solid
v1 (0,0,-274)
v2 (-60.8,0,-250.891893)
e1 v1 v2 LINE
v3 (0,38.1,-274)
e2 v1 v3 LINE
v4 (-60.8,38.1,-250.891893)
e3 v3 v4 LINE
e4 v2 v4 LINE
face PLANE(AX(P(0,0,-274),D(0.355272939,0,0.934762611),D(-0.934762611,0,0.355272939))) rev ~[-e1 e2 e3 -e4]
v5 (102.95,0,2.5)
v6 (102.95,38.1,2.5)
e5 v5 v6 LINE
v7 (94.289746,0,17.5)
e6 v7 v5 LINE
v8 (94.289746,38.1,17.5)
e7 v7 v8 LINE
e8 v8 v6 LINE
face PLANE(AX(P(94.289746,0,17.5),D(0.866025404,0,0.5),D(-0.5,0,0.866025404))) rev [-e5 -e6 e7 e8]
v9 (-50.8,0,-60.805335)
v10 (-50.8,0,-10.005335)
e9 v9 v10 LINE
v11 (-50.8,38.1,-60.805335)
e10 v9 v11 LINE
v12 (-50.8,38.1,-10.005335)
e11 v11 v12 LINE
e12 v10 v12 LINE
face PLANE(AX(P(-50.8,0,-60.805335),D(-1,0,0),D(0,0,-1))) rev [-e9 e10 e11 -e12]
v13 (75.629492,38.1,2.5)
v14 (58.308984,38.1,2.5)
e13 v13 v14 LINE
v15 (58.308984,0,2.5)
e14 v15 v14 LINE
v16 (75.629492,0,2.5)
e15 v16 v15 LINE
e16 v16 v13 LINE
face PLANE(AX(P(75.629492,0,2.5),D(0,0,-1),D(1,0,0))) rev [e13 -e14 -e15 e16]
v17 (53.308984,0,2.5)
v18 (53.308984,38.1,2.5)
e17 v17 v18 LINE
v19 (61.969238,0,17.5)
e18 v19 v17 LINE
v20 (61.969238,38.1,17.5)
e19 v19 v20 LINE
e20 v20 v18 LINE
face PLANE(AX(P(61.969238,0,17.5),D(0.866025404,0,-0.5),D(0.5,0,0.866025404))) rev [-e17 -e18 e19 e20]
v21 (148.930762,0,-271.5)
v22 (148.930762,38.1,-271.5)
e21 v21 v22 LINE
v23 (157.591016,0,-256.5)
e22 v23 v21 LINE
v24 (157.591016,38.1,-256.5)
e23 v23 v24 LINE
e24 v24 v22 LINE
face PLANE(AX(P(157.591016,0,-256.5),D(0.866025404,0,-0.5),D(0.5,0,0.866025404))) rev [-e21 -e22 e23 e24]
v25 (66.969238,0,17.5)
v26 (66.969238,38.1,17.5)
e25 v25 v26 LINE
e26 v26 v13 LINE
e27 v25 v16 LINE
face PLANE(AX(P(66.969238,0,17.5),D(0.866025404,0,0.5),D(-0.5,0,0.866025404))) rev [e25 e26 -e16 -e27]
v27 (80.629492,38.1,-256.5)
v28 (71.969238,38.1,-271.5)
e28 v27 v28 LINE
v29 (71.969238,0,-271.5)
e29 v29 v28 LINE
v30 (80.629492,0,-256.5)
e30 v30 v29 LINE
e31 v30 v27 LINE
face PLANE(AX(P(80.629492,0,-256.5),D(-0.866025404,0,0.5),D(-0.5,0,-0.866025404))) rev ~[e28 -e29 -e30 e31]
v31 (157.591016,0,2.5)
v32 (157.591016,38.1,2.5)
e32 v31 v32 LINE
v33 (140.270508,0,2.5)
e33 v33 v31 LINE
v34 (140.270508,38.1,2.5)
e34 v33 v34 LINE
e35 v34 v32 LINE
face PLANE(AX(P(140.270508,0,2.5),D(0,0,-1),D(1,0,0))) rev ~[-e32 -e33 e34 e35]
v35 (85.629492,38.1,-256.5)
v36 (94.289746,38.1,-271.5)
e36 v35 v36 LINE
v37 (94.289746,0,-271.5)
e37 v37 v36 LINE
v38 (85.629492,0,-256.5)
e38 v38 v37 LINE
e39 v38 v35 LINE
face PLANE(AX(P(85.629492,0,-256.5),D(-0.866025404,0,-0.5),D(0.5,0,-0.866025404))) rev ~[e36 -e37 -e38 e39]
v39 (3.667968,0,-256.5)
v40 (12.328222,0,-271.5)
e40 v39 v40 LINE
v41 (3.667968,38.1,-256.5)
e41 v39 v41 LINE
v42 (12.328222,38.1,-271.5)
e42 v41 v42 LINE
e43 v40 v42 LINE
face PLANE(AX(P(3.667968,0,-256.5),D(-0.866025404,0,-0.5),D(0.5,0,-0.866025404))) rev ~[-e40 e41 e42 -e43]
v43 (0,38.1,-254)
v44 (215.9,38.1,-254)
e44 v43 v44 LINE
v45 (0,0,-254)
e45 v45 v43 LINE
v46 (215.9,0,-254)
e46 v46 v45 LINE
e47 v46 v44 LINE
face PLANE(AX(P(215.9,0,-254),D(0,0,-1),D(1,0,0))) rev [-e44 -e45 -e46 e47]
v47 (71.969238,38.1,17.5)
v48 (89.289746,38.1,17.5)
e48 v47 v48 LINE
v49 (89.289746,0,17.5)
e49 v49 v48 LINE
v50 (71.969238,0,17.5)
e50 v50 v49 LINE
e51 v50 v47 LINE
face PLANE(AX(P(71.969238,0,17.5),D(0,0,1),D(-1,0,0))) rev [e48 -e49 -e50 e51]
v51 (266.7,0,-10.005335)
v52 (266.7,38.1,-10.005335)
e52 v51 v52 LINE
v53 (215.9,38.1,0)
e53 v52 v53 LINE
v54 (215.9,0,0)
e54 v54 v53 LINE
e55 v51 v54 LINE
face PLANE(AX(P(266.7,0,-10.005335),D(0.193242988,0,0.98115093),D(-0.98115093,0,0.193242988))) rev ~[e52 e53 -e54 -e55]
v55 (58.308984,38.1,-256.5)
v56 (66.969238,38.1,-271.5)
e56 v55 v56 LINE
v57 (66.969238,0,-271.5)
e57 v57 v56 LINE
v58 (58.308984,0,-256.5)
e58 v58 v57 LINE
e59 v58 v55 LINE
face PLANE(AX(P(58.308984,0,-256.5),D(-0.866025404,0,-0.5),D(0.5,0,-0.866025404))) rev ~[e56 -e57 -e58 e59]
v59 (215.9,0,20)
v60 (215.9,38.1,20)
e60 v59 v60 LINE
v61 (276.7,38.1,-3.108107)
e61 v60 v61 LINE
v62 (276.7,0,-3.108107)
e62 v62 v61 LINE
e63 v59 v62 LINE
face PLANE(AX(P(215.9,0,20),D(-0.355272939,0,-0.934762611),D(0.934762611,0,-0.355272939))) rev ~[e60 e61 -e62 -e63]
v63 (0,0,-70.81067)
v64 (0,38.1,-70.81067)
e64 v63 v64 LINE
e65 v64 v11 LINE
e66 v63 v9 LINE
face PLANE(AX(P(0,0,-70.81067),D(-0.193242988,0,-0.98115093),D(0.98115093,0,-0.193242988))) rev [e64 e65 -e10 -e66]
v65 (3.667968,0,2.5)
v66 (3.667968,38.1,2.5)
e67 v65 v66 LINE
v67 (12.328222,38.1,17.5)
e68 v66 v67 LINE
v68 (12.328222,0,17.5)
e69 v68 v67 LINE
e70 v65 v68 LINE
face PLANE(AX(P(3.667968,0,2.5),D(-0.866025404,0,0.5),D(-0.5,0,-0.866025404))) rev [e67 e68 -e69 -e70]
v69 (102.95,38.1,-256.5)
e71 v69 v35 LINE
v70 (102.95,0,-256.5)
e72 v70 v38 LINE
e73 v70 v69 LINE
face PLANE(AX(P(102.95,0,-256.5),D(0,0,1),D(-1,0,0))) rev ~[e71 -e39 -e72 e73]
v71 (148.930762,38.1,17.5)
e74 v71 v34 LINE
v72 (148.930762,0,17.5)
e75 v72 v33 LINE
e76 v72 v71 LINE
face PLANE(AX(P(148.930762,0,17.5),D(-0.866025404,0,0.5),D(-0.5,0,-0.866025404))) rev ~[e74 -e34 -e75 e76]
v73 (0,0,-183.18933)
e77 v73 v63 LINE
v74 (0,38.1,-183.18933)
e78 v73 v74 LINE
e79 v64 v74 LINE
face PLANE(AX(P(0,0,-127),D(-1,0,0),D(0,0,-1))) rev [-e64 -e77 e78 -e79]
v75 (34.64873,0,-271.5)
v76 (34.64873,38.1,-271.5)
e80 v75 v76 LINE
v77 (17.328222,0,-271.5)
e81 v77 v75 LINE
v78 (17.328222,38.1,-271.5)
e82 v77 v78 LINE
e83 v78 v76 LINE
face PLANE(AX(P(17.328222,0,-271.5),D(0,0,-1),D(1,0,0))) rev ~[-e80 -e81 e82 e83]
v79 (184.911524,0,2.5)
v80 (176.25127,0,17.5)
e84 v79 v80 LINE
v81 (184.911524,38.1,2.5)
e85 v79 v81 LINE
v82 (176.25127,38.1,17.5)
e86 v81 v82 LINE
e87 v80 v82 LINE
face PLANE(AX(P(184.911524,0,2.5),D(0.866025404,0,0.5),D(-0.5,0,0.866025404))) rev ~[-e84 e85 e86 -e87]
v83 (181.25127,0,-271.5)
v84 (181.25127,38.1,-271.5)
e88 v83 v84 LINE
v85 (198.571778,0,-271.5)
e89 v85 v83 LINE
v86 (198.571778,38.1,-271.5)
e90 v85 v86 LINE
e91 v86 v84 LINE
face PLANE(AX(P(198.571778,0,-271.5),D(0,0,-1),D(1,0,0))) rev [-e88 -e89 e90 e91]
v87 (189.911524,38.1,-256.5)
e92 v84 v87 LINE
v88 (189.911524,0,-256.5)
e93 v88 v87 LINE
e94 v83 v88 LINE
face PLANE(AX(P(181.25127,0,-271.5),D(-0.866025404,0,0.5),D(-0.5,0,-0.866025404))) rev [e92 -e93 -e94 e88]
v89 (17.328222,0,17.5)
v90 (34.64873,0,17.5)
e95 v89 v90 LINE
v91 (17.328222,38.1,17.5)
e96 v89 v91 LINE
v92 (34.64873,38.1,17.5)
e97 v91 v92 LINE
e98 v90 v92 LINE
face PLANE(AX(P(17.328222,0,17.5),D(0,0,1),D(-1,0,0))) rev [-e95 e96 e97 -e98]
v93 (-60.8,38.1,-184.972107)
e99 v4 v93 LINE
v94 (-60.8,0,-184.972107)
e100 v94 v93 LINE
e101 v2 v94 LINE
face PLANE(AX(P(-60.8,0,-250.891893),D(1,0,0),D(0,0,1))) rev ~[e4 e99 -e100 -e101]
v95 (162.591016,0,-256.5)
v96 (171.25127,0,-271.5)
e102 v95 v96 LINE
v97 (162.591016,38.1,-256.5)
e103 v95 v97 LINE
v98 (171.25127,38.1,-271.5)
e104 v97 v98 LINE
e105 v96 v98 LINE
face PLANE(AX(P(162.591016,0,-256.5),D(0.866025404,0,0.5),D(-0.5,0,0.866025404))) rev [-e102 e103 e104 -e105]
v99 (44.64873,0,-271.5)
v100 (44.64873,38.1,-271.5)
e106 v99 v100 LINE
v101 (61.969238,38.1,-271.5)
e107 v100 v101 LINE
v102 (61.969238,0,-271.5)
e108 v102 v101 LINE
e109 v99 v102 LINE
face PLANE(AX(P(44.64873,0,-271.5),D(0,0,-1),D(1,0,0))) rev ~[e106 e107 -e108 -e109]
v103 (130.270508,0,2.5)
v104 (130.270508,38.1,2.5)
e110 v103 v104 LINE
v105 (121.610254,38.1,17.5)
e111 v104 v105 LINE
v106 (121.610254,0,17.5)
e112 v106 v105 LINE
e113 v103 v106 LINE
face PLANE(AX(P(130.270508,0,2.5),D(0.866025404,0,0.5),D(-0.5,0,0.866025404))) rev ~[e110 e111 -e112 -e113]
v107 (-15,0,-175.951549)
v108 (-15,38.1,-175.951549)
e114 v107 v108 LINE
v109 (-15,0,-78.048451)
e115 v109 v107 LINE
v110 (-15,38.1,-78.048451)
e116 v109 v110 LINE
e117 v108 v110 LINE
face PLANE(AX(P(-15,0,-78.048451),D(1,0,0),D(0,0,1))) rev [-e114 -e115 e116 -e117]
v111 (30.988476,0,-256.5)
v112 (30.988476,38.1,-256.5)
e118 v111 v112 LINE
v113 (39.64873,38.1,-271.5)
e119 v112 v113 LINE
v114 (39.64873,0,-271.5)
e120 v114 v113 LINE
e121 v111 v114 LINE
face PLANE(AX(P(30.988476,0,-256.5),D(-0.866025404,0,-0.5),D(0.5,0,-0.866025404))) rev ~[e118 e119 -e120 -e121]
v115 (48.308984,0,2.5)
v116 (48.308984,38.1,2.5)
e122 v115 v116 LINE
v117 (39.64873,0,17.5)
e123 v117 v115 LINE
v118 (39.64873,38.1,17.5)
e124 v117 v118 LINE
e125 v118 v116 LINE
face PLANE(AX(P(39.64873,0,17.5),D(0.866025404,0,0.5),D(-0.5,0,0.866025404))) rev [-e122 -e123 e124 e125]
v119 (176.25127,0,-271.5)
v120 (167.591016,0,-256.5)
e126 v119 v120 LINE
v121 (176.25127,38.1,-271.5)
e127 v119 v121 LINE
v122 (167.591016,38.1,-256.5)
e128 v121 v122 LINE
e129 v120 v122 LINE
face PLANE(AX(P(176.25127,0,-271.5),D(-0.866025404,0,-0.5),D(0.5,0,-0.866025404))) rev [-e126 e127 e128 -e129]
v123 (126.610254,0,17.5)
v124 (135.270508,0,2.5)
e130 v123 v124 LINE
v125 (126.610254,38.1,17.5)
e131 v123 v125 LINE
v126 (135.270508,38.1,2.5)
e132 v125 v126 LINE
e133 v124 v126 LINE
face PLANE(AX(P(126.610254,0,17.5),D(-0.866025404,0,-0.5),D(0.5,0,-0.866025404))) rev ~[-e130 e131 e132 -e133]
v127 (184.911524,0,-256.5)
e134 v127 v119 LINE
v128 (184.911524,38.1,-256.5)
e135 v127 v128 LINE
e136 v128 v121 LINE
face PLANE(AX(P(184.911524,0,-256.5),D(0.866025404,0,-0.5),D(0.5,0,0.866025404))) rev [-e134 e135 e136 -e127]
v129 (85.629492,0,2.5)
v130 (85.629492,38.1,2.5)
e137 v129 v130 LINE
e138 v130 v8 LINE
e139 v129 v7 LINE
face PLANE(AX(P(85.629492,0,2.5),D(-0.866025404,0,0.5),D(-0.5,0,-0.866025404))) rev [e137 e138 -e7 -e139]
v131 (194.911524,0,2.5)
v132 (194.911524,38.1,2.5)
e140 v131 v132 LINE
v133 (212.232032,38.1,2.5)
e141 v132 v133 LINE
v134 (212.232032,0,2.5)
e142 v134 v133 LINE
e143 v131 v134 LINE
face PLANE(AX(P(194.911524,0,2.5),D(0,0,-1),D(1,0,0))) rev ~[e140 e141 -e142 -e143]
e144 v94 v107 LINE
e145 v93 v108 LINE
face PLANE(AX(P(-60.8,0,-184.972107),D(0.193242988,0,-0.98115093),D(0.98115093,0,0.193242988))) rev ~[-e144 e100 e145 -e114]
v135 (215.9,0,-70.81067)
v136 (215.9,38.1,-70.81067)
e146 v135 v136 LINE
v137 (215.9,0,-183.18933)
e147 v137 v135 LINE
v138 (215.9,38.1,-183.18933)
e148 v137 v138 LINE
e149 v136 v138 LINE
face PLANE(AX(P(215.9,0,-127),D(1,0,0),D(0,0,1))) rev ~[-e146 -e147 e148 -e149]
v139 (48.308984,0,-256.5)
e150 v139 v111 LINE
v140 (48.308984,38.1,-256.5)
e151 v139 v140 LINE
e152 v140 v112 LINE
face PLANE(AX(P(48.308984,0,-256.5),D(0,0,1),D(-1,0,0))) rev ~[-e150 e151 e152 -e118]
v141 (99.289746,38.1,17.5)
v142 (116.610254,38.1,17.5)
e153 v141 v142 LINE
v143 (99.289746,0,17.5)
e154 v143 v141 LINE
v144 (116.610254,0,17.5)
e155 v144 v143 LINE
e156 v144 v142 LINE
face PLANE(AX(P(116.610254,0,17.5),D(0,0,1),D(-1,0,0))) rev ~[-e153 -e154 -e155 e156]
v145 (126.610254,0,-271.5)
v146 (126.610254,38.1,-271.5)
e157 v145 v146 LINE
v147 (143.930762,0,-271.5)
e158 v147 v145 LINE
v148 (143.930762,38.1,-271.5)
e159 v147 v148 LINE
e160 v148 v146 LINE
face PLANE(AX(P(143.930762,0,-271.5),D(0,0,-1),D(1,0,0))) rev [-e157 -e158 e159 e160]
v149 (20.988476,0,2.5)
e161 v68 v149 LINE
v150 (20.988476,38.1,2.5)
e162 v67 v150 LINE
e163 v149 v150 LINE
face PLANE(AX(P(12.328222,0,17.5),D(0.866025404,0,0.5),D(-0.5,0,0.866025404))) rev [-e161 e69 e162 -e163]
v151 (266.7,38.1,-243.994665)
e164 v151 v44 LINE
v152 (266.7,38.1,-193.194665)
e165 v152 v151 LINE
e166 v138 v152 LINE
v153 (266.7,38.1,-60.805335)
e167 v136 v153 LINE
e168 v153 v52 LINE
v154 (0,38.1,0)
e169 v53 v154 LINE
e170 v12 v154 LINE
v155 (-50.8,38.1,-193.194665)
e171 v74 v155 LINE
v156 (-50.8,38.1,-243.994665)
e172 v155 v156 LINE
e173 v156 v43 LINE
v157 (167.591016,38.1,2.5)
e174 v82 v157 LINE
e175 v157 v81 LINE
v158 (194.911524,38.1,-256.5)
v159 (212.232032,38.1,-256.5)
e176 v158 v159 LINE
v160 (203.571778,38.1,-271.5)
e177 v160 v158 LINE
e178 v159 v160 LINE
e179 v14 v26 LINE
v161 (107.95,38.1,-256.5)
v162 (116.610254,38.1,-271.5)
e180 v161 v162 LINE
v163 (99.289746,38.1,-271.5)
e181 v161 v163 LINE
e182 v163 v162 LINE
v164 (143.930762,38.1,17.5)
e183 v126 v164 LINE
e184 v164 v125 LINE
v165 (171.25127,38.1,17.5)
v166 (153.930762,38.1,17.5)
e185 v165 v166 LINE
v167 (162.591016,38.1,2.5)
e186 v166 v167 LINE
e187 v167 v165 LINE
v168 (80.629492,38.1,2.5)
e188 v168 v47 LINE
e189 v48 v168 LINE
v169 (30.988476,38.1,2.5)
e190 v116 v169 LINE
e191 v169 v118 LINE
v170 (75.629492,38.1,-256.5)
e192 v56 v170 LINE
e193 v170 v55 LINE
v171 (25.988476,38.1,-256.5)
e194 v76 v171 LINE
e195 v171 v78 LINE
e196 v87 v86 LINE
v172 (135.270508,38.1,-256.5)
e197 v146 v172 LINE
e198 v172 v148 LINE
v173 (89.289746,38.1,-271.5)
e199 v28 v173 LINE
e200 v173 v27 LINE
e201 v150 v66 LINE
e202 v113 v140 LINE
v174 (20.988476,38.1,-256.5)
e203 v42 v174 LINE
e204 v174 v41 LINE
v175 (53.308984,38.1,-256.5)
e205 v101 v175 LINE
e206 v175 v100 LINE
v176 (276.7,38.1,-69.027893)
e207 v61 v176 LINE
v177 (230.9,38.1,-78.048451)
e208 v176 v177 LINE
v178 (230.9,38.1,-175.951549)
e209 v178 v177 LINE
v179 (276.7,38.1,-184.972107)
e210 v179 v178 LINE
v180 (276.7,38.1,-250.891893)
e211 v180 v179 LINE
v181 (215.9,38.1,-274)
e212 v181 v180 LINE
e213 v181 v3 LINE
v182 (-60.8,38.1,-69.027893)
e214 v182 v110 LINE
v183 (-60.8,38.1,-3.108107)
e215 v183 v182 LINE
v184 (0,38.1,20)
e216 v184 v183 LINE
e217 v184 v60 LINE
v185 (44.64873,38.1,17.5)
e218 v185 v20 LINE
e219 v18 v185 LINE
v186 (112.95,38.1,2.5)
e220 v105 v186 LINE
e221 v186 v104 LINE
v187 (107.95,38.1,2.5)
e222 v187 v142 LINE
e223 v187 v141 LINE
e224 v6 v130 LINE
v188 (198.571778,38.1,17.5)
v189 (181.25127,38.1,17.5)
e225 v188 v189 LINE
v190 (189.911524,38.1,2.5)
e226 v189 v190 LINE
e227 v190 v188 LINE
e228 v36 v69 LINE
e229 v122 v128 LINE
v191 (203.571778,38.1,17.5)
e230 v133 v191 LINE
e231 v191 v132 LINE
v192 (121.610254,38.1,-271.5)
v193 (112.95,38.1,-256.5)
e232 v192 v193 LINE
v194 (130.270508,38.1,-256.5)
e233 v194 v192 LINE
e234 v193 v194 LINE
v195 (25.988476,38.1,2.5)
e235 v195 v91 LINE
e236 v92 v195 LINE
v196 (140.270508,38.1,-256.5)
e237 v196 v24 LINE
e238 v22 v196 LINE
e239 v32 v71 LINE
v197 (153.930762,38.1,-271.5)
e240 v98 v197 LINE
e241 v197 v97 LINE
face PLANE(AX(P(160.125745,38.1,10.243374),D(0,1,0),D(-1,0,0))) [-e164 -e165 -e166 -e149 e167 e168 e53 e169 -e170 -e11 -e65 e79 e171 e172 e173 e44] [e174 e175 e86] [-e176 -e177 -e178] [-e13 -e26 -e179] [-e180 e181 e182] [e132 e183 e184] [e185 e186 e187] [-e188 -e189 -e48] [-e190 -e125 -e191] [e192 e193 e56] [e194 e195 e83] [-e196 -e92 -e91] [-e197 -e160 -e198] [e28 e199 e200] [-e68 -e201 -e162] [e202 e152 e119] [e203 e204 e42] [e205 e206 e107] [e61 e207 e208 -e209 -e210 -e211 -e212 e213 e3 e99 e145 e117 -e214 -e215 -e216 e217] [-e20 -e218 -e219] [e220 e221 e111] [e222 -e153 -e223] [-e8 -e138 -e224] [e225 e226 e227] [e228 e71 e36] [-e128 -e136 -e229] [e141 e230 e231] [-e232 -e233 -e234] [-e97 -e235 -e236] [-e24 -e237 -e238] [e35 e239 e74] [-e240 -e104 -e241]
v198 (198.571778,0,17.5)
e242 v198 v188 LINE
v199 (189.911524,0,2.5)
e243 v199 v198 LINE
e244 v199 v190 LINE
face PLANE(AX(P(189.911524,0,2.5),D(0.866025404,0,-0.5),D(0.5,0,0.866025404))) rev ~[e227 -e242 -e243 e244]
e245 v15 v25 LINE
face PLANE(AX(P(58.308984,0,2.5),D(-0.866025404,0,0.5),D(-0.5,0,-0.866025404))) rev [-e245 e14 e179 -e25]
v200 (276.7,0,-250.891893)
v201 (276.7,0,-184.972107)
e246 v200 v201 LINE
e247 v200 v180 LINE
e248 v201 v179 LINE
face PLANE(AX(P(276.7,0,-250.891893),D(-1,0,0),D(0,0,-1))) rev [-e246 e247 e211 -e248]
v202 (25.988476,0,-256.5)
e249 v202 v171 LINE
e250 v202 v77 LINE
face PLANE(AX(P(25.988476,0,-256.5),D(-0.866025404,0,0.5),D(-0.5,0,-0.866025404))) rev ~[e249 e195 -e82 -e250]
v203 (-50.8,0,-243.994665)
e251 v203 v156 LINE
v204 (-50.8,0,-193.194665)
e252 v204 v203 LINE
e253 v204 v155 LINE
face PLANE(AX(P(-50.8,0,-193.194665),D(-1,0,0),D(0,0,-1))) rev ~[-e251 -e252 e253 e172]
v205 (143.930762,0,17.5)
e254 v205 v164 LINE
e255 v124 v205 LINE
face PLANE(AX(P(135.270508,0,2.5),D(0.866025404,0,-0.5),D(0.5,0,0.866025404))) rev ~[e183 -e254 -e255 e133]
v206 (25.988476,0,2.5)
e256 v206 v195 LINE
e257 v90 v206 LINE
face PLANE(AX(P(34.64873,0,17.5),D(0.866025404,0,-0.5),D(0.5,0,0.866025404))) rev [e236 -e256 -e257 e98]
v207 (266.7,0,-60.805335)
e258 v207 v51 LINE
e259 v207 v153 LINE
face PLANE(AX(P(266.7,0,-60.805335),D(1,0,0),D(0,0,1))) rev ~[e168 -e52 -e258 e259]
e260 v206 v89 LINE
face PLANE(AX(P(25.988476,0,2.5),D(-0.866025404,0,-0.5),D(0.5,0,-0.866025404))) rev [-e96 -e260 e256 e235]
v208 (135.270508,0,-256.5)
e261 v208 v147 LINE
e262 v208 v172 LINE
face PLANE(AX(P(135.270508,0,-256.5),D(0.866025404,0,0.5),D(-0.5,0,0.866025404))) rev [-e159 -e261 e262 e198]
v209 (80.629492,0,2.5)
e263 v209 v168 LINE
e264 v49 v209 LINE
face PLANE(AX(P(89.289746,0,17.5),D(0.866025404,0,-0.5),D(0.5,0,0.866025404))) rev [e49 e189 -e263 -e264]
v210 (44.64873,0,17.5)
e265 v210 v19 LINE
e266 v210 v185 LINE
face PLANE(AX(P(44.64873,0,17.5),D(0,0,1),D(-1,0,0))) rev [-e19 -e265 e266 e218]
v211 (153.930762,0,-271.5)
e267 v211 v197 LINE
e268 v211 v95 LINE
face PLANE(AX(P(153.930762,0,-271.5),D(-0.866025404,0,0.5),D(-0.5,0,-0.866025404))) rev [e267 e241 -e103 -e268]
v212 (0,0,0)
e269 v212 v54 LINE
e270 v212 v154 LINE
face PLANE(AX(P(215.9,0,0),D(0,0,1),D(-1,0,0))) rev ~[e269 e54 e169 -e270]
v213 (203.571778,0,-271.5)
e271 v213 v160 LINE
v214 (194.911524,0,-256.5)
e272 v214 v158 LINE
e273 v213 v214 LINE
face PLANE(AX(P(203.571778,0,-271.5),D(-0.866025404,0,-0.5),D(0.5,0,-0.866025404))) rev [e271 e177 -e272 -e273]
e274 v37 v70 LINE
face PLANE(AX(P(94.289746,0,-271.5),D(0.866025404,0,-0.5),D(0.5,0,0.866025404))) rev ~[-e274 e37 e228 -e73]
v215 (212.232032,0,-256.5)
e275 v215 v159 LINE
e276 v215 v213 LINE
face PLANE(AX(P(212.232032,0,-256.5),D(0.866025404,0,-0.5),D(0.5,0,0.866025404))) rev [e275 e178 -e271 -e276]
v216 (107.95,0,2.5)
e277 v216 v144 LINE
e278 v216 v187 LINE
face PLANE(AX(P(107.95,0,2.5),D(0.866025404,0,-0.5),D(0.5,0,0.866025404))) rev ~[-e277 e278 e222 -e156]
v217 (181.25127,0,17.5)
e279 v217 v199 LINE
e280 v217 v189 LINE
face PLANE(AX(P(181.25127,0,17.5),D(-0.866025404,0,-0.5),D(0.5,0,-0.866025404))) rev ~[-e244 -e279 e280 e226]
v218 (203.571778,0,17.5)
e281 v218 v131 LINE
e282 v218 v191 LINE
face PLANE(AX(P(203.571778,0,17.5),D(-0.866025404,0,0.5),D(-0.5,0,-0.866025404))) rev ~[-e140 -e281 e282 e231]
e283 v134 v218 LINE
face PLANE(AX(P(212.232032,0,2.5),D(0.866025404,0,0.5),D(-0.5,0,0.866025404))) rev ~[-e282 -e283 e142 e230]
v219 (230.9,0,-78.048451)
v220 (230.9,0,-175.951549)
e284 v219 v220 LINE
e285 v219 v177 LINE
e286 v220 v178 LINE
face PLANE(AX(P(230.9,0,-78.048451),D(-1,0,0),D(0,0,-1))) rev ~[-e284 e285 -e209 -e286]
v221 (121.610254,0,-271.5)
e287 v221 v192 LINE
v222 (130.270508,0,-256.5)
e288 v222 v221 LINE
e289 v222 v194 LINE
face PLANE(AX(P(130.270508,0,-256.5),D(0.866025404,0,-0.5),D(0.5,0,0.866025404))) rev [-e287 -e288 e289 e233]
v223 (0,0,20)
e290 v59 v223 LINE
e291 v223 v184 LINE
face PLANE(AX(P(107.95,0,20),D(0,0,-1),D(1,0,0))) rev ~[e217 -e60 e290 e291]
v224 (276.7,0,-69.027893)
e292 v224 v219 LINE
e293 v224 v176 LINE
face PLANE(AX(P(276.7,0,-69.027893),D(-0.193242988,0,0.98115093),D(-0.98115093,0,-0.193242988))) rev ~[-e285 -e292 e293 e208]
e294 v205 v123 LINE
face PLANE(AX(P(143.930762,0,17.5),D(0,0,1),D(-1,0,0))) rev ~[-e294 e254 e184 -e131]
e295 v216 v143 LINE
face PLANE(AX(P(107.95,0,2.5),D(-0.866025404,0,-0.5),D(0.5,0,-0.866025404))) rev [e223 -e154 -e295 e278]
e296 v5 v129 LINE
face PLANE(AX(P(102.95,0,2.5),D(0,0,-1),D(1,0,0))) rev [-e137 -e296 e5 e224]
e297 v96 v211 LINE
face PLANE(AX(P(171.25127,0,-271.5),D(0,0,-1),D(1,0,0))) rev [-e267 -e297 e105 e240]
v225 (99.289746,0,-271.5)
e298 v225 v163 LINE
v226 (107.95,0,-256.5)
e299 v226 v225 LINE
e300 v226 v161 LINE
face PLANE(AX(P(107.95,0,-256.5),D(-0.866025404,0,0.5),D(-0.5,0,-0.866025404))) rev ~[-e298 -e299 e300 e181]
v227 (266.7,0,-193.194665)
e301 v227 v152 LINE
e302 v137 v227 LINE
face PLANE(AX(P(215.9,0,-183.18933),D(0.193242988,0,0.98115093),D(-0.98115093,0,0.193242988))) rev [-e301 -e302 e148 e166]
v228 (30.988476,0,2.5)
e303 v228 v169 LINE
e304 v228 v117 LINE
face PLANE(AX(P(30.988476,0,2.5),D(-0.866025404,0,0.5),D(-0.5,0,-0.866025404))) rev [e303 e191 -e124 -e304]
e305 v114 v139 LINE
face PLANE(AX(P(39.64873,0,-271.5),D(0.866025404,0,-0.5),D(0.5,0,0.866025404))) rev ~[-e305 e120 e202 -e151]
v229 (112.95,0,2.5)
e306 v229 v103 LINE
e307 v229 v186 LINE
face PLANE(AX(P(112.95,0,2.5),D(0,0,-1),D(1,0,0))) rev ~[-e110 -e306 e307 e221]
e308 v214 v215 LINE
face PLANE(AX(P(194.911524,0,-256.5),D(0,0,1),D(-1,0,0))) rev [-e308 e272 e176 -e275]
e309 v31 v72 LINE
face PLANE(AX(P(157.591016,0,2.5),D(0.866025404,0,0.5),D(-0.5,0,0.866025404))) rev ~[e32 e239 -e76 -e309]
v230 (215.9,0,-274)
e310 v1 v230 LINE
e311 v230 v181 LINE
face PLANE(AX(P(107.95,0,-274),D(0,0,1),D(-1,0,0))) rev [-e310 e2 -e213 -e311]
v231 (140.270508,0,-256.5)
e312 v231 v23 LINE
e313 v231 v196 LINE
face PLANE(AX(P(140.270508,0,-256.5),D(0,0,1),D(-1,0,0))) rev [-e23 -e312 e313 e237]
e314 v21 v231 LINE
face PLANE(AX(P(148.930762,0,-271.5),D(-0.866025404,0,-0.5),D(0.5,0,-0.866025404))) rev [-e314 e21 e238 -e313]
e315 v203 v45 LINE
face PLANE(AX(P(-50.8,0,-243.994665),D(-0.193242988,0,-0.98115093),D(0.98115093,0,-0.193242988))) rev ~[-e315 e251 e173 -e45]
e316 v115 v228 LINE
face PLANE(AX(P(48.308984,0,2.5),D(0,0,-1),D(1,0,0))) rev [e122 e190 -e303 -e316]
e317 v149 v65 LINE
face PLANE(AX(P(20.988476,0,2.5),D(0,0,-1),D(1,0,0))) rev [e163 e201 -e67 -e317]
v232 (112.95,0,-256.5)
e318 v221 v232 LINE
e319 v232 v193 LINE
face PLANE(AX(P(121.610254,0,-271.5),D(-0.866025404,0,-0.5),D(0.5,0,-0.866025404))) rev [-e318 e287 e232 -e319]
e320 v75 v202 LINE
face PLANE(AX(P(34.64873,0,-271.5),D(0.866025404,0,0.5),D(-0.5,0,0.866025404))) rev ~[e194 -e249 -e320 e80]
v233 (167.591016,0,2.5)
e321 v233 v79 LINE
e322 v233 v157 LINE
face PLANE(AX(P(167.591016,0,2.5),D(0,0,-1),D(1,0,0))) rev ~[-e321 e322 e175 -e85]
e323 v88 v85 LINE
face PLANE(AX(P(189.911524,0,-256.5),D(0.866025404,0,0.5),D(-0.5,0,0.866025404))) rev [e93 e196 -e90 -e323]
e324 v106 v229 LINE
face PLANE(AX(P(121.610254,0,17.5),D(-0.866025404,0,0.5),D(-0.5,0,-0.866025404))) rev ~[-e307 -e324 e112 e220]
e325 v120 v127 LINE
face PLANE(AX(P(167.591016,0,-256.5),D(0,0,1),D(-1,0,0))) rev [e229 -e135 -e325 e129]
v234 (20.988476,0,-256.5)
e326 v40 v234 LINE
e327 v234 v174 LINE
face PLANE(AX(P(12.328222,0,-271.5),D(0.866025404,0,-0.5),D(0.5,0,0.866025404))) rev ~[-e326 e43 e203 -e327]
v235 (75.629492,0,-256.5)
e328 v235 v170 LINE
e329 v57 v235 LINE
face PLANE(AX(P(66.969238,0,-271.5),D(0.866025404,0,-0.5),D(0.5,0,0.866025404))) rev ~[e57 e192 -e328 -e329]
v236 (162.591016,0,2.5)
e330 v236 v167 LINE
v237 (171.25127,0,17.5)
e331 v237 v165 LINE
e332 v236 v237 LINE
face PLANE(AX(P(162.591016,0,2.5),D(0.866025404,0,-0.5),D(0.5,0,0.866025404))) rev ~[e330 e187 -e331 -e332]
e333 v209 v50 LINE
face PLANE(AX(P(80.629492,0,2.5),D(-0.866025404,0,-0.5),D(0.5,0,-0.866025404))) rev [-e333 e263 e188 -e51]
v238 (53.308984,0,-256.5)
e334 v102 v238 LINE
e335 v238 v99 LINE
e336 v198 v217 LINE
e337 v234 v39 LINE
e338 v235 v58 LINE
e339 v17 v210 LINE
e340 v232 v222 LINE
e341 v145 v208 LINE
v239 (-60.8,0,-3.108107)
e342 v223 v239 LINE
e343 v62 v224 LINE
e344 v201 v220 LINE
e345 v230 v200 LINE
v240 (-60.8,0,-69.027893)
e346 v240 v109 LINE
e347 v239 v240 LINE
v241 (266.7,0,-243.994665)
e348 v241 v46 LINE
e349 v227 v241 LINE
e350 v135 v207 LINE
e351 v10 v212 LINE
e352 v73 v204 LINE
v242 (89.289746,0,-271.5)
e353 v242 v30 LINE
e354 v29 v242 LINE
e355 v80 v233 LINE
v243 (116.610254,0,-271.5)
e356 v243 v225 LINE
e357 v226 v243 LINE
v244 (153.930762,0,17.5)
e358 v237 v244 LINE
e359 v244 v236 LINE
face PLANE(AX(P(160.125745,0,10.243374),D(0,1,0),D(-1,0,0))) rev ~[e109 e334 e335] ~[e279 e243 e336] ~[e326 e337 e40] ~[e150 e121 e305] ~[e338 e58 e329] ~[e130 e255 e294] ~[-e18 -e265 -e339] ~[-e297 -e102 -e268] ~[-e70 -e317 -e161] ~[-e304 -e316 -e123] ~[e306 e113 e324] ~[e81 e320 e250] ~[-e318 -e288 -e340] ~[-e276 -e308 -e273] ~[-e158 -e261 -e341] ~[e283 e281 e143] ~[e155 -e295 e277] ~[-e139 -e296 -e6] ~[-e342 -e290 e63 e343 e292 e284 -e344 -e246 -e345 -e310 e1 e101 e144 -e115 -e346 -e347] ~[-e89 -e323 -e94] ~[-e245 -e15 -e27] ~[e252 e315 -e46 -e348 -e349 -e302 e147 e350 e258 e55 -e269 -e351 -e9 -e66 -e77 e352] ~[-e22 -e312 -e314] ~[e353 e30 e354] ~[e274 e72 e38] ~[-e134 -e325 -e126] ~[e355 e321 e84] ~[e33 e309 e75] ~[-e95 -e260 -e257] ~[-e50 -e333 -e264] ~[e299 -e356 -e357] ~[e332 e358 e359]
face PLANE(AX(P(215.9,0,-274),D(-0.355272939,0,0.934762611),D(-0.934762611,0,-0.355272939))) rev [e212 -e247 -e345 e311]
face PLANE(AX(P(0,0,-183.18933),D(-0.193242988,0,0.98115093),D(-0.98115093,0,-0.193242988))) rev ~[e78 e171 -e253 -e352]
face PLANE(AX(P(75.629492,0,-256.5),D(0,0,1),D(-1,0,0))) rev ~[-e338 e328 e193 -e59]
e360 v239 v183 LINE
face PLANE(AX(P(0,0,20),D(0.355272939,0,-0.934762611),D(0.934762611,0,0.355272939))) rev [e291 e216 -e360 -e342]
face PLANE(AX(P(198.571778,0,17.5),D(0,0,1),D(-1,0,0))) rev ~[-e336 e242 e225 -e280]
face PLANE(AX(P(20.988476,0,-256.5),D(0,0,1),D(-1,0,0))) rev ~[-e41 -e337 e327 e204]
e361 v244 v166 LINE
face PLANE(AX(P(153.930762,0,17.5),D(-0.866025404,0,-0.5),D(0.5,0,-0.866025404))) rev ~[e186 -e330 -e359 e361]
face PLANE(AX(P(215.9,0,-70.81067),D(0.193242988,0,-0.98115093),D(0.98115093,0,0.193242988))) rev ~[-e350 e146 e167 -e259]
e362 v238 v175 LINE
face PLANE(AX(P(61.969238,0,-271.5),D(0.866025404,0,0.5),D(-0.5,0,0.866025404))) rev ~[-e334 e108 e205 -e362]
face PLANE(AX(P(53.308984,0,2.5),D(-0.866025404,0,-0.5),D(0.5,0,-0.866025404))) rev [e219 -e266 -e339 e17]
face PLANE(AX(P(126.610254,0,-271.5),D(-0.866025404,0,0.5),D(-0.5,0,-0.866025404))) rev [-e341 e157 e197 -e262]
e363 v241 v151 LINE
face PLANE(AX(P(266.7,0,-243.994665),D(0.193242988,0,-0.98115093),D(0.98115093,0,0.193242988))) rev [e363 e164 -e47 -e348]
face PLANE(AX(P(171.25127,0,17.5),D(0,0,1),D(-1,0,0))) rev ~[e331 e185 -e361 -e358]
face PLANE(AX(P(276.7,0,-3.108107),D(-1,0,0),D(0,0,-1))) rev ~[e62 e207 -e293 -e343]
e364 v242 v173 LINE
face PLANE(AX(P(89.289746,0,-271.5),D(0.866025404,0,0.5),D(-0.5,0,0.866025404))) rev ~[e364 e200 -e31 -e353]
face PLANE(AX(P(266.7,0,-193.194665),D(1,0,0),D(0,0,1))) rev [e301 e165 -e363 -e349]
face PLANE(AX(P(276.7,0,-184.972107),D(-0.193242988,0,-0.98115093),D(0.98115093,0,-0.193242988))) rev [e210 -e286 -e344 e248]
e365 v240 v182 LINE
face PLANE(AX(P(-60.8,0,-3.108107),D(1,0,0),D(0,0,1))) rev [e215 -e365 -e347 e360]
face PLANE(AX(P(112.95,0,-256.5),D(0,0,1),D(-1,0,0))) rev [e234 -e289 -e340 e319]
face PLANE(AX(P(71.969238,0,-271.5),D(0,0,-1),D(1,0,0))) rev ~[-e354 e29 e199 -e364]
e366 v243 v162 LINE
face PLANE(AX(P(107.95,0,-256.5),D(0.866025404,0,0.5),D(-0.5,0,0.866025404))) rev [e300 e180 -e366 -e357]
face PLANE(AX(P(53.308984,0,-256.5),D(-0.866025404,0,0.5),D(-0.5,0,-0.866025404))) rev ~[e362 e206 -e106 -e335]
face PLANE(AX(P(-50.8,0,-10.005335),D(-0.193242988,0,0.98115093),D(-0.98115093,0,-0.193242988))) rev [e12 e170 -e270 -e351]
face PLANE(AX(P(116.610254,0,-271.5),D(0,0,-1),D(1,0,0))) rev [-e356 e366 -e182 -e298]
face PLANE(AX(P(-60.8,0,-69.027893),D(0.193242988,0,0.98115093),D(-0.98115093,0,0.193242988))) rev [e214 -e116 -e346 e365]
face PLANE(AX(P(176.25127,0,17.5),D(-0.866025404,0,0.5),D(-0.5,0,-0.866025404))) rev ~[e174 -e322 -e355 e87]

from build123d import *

# Parameters (mm, degrees)
BOSS_EXTRUDE1_DEPTH = 38.1


with BuildPart() as part:
    # Sketch1 → Boss-Extrude1 (new body)
    # profile 1 of 2: a face of its own
    with BuildSketch(Plane(origin=(0, 0, 0), x_dir=(1, 0, 0), z_dir=(0, 1, 0))):
        Polygon((0, 254), (0, 274), (-60.8, 250.891892714), (-60.8, 184.972107286), (-15, 175.951549331), (-15, 127), (0, 127), (0, 183.18932995), (-50.8, 193.194664975), (-50.8, 243.994664975), align=None)
    # profile 2 of 2: a face of its own
    with BuildSketch(Plane(origin=(0, 0, 0), x_dir=(1, 0, 0), z_dir=(0, 1, 0))):
        Polygon((99.289745962, 271.5), (107.95, 271.5), (107.95, 274), (0, 274), (0, 254), (107.95, 254), (107.95, 256.5), align=None)
        Polygon((85.629491924, 256.5), (94.289745962, 271.5), (102.95, 256.5), align=None, mode=Mode.SUBTRACT)
        Polygon((58.308983849, 256.5), (66.969237886, 271.5), (75.629491924, 256.5), align=None, mode=Mode.SUBTRACT)
        Polygon((89.289745962, 271.5), (80.629491924, 256.5), (71.969237886, 271.5), align=None, mode=Mode.SUBTRACT)
        Polygon((30.988475773, 256.5), (39.648729811, 271.5), (48.308983849, 256.5), align=None, mode=Mode.SUBTRACT)
        Polygon((61.969237886, 271.5), (53.308983849, 256.5), (44.648729811, 271.5), align=None, mode=Mode.SUBTRACT)
        Polygon((34.648729811, 271.5), (25.988475773, 256.5), (17.328221735, 271.5), align=None, mode=Mode.SUBTRACT)
        Polygon((12.328221735, 271.5), (20.988475773, 256.5), (3.667967697, 256.5), align=None, mode=Mode.SUBTRACT)
    extrude(amount=BOSS_EXTRUDE1_DEPTH)

    # Mirror1: part across plane


with BuildPart() as part_1:
    add(part.part)
    add(part.part.mirror(Plane(origin=(0, 38.1, -127), x_dir=(1, 0, 0), z_dir=(0, 0, -1))))

    # Mirror2: part across plane


with BuildPart() as part_2:
    add(part_1.part)
    add(part_1.part.mirror(Plane(origin=(107.95, 38.1, -254), x_dir=(0, 0, 1), z_dir=(-1, 0, 0))))


solid = part_2.part
